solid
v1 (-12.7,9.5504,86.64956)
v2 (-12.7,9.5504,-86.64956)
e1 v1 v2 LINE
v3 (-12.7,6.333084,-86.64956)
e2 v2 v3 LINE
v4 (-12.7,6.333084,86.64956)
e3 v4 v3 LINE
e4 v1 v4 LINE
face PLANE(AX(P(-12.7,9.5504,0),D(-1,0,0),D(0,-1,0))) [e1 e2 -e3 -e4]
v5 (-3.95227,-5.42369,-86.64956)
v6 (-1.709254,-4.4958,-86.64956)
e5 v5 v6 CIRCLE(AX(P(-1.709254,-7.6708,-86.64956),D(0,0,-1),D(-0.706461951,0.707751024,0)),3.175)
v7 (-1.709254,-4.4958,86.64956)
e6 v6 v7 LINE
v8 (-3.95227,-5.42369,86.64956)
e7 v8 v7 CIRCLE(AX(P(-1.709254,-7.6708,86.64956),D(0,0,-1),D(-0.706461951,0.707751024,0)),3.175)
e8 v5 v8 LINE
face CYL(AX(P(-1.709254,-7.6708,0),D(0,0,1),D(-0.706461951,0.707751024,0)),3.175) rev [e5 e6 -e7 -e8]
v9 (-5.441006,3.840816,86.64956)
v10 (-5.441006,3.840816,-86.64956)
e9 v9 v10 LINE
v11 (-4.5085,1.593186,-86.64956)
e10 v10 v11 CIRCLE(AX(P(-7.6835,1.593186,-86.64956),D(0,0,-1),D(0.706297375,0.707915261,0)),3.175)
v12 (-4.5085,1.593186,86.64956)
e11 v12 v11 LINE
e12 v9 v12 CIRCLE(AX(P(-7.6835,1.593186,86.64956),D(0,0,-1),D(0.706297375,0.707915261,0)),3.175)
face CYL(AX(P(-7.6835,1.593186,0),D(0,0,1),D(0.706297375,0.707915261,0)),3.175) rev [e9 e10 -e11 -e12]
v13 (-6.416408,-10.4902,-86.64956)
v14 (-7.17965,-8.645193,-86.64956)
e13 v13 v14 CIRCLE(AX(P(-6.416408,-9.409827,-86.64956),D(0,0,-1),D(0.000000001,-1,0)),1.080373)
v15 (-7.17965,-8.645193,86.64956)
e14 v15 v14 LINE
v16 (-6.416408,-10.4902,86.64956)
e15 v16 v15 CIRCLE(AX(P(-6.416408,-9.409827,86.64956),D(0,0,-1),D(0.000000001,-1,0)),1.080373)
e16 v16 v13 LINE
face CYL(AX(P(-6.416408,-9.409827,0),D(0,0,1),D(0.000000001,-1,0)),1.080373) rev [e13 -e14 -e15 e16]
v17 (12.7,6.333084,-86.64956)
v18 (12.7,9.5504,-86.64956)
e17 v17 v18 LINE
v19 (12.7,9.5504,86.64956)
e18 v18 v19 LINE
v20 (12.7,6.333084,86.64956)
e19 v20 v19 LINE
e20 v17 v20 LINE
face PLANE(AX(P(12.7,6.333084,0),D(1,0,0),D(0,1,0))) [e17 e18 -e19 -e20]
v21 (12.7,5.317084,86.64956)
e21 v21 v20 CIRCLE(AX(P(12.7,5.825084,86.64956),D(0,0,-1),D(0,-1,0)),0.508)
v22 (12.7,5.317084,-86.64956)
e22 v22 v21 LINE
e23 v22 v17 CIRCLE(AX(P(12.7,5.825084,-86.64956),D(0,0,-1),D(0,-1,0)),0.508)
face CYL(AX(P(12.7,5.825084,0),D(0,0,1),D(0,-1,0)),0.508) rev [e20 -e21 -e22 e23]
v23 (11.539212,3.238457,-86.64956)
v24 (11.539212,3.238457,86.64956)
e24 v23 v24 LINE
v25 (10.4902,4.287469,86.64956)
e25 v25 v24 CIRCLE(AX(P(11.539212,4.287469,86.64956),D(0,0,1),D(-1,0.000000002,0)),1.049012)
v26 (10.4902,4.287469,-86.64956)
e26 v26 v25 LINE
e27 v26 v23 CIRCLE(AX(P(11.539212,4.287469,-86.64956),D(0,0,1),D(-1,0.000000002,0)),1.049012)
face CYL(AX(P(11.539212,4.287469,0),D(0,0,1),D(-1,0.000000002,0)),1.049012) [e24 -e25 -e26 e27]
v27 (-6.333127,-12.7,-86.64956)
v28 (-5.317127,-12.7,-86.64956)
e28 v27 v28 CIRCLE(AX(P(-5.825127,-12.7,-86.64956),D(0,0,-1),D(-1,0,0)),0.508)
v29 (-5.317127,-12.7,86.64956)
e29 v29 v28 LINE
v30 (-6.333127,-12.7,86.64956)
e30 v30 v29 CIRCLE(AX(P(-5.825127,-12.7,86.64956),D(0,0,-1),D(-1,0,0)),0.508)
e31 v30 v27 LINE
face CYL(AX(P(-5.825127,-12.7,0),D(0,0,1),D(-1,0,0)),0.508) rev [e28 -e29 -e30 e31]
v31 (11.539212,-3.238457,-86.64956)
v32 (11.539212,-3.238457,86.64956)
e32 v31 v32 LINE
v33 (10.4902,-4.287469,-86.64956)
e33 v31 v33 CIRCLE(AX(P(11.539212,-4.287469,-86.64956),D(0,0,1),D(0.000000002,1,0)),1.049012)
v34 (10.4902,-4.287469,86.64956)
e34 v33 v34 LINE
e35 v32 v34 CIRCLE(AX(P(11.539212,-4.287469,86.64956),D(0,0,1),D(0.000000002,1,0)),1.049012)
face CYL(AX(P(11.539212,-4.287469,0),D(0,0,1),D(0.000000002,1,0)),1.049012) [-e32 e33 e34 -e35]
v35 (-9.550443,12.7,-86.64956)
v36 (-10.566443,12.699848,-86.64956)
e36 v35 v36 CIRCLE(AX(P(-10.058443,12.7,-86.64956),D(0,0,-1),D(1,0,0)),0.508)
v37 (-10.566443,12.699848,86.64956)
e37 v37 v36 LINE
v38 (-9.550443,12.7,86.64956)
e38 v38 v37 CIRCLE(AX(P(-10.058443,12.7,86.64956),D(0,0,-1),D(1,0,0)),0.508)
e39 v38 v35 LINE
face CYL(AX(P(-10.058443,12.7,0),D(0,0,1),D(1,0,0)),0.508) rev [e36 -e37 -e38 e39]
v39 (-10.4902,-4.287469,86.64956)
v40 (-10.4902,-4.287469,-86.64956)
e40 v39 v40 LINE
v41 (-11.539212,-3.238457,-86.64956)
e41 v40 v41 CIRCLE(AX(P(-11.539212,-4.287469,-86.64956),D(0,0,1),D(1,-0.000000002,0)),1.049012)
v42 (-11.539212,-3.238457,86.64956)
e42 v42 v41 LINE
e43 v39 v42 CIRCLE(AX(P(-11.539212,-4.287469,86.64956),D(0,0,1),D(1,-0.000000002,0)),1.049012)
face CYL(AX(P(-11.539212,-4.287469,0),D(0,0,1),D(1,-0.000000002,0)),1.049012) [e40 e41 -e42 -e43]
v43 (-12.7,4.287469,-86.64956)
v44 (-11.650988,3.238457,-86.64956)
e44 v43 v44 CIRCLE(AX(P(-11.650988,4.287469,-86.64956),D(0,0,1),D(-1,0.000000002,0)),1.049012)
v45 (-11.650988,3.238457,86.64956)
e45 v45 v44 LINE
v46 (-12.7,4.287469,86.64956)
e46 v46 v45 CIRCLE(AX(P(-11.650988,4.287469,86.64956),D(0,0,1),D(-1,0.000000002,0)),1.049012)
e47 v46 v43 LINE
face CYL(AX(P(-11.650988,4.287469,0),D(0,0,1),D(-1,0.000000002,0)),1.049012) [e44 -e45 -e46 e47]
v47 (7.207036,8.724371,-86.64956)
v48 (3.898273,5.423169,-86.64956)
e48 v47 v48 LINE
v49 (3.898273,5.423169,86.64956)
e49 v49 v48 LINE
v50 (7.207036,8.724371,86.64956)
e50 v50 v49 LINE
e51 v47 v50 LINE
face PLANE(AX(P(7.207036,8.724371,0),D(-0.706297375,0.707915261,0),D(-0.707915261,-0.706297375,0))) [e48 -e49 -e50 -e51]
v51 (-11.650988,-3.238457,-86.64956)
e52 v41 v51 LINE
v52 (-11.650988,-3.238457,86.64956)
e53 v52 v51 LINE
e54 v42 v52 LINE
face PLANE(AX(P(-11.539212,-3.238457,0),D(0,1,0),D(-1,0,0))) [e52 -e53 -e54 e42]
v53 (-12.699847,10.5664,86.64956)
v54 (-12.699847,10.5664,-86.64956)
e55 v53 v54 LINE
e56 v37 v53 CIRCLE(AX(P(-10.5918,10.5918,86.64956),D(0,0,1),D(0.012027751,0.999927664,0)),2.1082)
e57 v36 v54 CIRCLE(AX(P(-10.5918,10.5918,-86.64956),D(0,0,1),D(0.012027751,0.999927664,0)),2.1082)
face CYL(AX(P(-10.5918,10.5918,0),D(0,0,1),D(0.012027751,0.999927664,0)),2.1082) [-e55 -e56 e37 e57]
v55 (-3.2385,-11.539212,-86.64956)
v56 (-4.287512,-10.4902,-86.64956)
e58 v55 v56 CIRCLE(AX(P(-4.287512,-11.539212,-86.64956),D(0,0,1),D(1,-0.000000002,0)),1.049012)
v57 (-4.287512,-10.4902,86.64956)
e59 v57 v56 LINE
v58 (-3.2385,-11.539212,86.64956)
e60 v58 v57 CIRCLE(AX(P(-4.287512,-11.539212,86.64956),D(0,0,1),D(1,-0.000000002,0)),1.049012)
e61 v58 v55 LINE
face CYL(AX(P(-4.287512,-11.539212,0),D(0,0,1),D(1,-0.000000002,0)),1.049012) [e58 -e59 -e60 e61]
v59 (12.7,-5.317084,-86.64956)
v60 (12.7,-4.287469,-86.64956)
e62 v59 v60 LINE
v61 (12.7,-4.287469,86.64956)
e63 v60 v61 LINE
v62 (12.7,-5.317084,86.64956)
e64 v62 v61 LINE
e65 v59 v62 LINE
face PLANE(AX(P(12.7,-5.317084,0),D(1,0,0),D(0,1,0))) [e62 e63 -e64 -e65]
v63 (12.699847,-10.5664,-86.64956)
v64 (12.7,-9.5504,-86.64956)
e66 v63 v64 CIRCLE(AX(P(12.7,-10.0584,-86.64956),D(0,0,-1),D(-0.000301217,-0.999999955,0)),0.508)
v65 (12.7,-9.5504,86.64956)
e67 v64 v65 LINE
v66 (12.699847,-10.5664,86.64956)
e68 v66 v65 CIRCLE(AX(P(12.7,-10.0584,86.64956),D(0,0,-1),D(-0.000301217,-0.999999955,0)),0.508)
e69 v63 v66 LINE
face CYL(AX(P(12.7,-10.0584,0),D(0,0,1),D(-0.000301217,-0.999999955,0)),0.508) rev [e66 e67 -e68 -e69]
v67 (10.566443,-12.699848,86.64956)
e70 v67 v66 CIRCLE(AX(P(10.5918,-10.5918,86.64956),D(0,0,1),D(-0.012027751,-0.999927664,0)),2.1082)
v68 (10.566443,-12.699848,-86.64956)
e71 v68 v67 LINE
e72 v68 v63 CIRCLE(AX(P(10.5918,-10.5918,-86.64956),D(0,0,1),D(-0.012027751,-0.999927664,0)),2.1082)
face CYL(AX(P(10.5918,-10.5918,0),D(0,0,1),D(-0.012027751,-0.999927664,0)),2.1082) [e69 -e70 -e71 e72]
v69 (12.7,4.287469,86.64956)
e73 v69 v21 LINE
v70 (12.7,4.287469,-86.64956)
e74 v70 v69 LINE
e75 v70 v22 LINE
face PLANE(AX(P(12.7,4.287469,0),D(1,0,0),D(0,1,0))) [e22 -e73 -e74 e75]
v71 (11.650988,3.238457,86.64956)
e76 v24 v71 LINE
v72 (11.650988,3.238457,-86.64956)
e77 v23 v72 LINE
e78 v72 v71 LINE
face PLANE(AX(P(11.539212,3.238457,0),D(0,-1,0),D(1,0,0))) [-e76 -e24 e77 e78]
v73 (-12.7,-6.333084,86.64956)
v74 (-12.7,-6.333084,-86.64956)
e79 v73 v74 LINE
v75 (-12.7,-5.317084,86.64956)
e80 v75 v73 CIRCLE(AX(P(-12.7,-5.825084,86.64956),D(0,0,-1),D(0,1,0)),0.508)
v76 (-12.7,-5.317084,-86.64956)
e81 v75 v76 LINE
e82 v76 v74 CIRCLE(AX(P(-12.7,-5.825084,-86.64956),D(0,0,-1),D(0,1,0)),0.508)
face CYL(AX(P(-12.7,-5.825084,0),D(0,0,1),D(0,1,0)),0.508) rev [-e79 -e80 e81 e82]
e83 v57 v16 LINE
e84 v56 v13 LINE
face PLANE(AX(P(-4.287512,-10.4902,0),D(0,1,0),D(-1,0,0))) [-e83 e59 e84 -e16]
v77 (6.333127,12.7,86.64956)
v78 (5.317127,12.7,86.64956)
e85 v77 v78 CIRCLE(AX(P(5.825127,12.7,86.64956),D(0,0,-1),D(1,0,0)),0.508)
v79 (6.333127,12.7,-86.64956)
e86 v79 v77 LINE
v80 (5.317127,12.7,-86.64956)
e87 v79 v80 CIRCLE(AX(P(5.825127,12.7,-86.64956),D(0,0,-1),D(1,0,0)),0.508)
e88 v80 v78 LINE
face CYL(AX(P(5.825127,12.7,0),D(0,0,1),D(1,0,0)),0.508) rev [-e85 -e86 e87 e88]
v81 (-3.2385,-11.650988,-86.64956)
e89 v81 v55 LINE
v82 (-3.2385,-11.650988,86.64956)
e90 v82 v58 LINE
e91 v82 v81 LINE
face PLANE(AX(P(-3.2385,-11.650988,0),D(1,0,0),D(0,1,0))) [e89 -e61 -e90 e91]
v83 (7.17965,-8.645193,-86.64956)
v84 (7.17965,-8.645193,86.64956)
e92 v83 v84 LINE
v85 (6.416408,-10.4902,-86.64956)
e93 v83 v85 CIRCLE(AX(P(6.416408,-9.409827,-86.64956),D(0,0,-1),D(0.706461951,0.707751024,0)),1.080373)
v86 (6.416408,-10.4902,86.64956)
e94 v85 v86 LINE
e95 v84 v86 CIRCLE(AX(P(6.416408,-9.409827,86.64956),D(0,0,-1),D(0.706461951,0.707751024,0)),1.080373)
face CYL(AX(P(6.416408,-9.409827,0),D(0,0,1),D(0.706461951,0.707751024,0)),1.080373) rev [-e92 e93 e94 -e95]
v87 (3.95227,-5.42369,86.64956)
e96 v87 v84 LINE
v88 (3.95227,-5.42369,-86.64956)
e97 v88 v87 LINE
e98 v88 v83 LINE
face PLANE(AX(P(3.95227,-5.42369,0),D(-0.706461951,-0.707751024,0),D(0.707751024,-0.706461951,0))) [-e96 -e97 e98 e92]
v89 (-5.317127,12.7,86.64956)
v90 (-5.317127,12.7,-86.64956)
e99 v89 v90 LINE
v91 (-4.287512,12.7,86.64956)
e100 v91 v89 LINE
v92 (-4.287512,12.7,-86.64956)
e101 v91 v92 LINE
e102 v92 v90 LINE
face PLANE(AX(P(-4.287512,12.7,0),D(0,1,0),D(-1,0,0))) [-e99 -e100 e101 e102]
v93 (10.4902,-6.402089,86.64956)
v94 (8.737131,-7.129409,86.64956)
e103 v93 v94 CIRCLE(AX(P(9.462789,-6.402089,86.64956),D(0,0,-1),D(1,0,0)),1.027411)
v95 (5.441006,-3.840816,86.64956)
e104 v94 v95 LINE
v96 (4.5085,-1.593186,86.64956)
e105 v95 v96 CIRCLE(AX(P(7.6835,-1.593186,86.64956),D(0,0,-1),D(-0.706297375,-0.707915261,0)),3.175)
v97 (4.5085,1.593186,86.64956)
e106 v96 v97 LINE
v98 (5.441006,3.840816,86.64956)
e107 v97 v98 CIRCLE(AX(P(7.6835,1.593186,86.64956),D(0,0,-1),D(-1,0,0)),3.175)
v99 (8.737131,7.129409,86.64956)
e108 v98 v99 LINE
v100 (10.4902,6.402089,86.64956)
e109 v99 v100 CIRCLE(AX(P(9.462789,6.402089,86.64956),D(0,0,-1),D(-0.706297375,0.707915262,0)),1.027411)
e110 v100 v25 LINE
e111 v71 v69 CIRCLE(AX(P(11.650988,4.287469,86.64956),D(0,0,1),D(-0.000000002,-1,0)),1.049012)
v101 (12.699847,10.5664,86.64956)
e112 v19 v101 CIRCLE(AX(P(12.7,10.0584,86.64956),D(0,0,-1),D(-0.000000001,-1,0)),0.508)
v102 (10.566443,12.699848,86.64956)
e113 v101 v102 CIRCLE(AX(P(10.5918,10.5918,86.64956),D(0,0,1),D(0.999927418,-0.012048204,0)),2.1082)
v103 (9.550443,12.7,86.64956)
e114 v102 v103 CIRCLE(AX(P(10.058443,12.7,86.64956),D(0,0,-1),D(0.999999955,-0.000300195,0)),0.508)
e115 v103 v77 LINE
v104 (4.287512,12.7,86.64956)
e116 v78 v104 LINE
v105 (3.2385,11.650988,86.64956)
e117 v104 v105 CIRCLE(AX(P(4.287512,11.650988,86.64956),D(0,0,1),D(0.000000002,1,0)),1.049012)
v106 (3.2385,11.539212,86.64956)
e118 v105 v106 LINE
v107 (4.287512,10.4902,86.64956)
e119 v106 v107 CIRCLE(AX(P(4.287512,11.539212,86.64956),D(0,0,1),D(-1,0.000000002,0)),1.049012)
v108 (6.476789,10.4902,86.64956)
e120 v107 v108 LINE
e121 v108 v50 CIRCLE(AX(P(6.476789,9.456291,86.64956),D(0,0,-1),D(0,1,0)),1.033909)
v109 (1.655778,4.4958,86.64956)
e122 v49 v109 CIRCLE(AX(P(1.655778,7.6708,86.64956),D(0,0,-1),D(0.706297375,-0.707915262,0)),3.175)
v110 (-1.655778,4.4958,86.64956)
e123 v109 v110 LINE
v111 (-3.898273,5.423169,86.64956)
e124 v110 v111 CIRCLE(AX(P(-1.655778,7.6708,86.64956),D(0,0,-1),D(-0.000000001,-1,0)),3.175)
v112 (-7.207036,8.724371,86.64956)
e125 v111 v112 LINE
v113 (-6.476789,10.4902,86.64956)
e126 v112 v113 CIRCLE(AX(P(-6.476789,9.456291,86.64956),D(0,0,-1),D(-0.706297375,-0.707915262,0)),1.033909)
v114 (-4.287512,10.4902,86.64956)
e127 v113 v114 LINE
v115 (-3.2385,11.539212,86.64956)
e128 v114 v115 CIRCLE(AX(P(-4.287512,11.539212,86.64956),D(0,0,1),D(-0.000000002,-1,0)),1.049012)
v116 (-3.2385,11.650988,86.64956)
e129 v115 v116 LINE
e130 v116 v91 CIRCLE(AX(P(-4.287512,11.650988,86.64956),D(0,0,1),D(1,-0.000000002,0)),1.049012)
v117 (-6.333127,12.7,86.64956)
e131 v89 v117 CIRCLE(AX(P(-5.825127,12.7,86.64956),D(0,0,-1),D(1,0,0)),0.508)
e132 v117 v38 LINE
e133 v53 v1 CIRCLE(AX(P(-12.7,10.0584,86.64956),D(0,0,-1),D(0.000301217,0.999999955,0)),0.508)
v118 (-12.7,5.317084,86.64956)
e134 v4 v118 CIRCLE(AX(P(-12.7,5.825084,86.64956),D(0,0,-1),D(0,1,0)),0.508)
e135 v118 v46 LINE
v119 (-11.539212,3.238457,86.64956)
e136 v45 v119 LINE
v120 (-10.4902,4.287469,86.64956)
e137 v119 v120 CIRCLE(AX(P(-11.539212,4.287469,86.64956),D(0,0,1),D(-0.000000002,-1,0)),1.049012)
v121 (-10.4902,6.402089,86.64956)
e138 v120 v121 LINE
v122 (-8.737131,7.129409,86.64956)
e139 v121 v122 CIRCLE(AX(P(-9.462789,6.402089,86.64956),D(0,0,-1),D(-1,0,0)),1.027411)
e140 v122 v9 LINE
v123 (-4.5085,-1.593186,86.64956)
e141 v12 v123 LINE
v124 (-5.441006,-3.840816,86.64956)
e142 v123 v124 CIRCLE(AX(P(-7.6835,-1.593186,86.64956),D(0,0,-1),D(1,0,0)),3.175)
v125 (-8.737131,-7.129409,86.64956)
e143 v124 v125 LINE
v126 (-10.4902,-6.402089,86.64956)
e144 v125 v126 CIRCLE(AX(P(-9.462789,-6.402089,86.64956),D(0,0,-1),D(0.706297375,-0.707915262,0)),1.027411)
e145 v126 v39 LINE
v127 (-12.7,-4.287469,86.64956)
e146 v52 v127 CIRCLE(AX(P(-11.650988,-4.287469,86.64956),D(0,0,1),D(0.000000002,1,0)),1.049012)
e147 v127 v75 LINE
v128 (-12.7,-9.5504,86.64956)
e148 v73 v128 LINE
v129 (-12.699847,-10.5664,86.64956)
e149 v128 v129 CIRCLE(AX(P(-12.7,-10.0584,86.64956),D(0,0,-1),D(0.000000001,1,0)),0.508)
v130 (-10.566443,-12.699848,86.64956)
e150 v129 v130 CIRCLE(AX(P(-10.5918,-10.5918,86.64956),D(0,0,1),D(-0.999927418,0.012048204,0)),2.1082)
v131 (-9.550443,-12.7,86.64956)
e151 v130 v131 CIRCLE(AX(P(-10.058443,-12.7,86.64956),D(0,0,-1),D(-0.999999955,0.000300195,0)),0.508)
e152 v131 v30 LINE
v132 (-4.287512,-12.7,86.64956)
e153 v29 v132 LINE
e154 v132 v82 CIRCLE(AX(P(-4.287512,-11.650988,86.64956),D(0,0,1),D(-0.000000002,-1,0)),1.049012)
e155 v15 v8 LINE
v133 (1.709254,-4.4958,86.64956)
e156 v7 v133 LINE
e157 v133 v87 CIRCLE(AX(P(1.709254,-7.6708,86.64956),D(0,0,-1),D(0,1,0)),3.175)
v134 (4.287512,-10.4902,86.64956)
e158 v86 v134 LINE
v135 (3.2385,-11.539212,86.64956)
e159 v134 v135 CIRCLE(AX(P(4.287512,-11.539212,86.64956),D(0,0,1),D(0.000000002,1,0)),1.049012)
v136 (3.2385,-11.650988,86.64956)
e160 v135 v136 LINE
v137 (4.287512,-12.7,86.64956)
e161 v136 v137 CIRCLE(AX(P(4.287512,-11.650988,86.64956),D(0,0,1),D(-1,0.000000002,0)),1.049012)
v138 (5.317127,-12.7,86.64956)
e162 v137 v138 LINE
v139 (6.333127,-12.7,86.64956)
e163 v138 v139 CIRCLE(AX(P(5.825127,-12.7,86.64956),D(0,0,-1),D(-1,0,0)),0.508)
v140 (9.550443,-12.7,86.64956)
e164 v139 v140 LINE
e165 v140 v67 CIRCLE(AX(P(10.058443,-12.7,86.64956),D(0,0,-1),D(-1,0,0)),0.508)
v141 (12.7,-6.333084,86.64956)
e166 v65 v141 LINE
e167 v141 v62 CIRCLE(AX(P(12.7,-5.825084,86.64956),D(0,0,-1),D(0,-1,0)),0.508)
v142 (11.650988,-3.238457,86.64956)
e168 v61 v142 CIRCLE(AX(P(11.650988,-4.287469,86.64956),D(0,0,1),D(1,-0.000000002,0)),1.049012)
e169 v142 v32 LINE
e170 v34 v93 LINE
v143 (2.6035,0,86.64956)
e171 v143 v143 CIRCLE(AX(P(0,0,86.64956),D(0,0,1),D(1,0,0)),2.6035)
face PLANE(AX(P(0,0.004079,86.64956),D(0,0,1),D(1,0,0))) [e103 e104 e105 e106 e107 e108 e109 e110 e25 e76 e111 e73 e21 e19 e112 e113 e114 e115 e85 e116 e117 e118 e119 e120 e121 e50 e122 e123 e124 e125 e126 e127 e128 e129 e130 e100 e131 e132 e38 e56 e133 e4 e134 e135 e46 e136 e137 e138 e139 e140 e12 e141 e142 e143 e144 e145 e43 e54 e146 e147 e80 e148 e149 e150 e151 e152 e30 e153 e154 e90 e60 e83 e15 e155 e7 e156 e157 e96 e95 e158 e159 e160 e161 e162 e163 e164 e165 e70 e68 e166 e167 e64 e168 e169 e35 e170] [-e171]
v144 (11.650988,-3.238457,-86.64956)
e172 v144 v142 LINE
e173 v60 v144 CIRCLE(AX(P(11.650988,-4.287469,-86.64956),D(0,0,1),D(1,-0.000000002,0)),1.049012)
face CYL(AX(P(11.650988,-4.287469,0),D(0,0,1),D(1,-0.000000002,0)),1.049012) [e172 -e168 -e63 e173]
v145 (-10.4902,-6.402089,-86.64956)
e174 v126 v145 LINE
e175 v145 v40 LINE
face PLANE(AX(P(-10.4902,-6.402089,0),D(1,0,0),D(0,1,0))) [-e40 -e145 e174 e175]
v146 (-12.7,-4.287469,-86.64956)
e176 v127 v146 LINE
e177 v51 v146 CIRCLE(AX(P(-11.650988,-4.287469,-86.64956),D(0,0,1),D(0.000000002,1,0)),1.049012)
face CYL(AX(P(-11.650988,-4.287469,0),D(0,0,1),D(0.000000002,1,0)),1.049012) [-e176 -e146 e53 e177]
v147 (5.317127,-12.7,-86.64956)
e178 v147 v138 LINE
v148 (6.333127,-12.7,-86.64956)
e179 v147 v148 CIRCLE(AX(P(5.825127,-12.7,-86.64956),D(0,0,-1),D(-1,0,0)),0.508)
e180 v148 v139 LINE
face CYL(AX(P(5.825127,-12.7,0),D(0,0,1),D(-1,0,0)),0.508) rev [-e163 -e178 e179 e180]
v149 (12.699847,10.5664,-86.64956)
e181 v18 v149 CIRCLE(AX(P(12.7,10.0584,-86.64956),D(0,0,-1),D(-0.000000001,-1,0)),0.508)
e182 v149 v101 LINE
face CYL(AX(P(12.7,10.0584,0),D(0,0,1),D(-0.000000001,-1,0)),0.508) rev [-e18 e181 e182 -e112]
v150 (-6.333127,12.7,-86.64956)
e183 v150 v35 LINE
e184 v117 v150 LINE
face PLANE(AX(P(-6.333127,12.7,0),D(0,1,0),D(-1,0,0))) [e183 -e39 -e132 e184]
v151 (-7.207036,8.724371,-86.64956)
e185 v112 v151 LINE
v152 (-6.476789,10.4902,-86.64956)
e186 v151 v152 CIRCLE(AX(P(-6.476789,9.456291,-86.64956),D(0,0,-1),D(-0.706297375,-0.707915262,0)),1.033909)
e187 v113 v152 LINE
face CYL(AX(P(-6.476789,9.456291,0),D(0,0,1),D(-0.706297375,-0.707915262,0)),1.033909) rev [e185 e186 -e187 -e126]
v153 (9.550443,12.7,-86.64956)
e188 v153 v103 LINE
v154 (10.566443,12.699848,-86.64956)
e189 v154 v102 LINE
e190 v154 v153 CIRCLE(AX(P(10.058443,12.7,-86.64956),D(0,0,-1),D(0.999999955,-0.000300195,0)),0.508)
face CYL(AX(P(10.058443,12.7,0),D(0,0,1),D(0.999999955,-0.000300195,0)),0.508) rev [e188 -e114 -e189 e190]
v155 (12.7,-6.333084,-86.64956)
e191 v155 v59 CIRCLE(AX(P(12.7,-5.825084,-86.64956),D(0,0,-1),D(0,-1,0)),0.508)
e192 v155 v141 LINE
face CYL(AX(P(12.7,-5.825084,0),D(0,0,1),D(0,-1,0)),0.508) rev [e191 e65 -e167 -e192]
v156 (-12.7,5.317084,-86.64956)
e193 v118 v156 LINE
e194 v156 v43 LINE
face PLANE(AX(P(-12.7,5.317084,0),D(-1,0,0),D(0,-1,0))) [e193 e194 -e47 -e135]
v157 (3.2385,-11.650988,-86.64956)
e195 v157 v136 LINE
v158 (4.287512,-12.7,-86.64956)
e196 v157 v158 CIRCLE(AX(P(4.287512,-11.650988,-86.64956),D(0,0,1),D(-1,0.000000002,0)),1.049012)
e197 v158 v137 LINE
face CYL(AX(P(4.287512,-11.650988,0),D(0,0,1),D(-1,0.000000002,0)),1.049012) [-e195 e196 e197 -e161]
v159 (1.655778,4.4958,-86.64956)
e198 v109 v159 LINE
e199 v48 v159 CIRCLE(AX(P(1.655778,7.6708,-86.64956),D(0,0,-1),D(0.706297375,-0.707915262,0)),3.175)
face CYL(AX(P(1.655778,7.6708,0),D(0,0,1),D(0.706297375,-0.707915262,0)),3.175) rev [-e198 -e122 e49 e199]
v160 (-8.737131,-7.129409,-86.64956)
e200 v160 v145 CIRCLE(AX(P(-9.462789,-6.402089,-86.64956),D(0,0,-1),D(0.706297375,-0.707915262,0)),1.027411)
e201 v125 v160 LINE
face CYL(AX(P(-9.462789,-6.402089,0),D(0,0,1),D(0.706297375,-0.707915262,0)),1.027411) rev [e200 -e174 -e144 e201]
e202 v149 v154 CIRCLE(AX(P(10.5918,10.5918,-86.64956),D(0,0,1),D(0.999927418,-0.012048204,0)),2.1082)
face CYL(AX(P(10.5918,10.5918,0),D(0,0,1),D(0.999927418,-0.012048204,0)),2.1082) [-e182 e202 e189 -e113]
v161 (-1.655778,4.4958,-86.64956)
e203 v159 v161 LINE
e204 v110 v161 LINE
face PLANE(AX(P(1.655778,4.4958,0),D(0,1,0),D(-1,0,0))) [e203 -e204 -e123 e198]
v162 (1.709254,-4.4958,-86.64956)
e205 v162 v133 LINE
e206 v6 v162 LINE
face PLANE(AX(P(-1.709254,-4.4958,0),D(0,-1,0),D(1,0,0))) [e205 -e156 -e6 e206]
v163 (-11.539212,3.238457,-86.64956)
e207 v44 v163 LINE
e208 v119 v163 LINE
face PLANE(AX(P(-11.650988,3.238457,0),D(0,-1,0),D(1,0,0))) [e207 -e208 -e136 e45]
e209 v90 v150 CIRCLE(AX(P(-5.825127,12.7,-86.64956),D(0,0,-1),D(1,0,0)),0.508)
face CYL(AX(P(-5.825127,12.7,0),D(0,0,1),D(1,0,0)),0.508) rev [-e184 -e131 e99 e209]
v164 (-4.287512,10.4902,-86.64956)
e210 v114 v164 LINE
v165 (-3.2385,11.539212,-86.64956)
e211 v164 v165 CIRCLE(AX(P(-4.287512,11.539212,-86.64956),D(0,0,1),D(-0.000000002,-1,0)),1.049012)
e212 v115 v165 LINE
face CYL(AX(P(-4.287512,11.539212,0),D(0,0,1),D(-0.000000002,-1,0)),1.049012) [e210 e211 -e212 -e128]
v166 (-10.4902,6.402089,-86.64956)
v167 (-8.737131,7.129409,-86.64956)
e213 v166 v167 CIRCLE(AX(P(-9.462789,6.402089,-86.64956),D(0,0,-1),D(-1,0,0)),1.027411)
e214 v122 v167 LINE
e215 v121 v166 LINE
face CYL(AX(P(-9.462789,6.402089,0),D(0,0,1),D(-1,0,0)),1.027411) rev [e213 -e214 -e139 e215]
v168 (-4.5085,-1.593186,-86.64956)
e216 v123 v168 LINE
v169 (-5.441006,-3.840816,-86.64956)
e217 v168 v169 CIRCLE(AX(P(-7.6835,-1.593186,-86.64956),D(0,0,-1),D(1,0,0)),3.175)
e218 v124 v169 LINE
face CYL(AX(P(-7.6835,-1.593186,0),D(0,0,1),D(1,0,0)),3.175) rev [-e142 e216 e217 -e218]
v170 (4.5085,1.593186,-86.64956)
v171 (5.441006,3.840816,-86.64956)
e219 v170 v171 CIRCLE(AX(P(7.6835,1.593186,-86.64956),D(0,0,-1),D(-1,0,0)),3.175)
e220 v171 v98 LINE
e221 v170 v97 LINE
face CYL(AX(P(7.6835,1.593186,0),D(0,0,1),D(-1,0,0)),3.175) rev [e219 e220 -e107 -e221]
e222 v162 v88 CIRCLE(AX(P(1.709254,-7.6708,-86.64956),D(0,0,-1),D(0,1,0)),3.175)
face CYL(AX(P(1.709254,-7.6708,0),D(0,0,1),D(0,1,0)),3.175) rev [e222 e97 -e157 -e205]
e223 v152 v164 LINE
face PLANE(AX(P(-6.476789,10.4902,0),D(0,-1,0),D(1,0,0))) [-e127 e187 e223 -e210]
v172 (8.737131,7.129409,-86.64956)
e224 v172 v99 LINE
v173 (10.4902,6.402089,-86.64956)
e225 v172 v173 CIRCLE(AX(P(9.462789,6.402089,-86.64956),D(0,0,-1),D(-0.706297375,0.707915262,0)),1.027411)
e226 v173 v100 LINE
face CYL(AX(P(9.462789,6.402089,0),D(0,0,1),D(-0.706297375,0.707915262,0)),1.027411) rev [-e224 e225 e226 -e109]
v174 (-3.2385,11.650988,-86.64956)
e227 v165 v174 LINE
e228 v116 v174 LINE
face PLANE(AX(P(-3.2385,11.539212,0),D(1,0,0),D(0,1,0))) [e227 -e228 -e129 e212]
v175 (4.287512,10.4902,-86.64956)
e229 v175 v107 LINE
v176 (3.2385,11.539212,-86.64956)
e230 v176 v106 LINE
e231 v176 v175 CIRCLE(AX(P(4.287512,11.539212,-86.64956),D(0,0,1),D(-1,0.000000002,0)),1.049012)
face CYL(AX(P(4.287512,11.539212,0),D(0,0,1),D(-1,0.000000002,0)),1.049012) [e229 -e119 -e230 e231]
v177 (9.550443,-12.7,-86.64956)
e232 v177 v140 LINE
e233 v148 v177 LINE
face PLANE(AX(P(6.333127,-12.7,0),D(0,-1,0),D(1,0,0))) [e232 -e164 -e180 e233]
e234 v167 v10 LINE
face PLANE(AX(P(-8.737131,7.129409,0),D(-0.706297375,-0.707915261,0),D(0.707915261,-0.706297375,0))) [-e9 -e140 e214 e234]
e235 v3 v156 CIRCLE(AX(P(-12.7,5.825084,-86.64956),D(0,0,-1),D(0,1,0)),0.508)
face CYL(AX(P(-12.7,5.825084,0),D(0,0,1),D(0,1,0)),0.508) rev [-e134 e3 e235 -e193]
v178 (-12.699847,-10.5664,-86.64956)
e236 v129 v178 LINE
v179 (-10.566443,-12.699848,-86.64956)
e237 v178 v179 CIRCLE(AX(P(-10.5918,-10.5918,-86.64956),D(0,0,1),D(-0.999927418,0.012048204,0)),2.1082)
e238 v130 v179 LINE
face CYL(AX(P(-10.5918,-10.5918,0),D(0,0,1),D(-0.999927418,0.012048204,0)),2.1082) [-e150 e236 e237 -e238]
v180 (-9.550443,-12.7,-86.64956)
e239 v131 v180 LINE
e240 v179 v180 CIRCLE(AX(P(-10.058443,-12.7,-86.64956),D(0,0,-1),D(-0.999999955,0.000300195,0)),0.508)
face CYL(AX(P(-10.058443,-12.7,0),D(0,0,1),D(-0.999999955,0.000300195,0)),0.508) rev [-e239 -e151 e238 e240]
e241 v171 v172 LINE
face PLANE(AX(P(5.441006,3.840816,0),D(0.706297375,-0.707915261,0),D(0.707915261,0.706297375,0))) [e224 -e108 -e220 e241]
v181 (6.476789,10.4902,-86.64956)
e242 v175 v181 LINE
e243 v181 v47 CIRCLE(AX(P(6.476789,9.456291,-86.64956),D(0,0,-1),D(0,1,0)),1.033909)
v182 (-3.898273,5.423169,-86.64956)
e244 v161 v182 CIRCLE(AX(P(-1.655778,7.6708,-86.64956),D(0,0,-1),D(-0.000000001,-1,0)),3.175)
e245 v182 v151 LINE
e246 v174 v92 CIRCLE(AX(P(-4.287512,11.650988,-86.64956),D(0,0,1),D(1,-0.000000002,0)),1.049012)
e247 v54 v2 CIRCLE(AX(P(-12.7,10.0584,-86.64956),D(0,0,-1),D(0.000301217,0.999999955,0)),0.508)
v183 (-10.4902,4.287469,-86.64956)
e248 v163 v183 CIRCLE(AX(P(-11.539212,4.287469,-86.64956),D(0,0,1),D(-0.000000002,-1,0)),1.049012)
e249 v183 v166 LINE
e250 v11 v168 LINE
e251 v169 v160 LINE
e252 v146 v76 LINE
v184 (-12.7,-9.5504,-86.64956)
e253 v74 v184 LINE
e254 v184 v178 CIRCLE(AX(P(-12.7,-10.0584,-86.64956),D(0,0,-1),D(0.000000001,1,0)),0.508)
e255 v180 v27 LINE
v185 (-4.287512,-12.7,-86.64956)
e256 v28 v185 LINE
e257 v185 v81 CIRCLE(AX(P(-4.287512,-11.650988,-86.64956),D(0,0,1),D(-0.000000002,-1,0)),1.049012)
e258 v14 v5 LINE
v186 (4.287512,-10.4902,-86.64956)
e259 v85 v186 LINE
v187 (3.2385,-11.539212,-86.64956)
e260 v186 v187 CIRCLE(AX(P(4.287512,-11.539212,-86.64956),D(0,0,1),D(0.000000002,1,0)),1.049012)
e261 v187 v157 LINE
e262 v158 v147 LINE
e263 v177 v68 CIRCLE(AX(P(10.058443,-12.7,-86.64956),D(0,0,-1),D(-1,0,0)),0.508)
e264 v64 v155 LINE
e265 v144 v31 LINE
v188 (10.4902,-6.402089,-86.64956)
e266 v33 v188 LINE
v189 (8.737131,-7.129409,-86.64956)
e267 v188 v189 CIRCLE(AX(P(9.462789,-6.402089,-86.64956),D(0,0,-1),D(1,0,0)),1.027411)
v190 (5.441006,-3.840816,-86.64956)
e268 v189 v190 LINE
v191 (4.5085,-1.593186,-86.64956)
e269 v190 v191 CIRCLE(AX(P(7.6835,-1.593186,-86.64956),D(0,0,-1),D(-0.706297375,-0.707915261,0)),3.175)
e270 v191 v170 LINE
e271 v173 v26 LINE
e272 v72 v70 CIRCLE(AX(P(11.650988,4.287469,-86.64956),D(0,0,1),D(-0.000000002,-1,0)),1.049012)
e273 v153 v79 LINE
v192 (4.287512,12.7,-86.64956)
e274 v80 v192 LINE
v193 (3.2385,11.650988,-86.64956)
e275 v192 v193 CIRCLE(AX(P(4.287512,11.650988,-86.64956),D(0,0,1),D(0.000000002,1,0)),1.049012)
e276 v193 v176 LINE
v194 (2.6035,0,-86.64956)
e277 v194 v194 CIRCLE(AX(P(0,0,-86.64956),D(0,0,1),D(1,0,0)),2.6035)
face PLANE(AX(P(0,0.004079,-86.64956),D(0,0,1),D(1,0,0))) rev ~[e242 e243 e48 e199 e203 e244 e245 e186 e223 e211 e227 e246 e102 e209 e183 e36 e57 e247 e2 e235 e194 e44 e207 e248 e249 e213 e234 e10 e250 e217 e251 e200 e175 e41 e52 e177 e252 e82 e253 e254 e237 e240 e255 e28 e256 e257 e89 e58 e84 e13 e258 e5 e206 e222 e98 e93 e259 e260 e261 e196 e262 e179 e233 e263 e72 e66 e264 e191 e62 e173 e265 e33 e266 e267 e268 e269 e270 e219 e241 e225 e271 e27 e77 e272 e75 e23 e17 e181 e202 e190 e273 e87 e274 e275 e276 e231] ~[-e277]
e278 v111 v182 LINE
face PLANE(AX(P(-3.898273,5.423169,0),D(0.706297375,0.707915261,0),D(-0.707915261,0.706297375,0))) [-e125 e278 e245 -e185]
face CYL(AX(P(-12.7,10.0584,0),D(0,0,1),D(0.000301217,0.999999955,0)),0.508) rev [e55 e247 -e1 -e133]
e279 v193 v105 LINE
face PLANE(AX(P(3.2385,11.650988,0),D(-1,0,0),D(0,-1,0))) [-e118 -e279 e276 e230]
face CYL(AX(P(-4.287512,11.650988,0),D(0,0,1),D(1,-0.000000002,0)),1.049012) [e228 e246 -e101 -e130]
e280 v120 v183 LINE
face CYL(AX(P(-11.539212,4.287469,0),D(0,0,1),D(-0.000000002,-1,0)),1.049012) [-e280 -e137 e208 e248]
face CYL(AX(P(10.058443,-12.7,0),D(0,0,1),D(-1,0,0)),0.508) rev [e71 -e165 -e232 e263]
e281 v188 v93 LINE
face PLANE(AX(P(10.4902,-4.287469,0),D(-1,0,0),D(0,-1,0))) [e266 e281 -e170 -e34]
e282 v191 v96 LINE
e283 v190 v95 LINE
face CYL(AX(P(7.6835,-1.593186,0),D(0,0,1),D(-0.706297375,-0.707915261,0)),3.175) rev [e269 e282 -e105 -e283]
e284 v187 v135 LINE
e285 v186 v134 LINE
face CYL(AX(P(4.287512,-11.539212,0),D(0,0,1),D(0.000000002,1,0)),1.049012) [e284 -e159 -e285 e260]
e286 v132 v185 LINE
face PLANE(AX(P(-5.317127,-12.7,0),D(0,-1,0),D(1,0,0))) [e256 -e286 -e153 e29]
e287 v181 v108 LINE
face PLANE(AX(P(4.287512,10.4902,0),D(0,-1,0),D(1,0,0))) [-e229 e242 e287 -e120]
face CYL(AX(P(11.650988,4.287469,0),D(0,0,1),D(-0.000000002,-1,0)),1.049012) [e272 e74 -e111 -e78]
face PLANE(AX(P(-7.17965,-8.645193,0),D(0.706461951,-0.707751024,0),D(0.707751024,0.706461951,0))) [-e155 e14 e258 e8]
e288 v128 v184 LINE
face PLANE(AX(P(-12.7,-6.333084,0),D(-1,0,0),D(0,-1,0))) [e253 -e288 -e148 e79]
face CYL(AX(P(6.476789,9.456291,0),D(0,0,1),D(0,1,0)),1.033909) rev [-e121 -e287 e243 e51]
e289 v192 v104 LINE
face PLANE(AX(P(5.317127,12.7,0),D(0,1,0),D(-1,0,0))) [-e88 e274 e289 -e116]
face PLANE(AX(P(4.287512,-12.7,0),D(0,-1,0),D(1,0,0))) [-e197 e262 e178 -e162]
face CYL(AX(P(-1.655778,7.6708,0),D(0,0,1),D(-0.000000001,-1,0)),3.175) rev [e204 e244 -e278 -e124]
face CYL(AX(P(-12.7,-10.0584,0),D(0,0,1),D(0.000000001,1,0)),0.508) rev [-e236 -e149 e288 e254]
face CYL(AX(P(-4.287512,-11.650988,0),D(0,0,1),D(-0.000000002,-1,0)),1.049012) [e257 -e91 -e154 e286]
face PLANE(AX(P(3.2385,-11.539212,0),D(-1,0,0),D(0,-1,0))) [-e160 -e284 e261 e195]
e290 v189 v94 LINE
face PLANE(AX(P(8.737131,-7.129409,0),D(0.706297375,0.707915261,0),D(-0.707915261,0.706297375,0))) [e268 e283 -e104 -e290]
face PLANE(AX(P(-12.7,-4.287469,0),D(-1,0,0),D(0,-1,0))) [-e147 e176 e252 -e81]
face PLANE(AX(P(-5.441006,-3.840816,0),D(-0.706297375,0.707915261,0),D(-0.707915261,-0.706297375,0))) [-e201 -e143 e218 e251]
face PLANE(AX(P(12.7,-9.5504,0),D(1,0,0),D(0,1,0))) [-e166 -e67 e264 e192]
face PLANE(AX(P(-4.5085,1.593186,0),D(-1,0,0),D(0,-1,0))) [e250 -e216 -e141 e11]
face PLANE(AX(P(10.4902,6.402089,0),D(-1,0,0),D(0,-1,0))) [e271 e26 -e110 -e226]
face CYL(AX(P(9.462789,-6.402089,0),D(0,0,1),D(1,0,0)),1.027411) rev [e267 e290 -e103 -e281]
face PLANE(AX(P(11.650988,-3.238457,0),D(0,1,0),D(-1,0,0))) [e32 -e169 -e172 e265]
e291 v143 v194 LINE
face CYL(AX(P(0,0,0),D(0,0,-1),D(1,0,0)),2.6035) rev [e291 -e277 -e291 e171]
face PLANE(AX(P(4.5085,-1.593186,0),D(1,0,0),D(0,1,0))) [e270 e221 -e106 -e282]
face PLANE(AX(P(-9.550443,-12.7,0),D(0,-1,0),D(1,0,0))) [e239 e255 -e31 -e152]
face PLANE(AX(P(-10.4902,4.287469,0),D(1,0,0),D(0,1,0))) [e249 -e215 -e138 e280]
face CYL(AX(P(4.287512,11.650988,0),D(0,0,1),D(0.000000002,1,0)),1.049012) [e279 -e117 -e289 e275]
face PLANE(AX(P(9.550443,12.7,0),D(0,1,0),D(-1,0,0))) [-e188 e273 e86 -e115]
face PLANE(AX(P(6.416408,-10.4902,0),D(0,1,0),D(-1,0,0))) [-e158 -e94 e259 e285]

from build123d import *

# Parameters (mm, degrees)
SKETCH1_R           = 2.6035
BOSS_EXTRUDE1_DEPTH = 86.64956


with BuildPart() as part:
    # Sketch1 → Boss-Extrude1 (new body, symmetric)
    with BuildSketch(Plane.XY):
        with BuildLine():
            Line((-7.179650497, -8.645192506), (-3.952270251, -5.423690499))
            ThreePointArc((-3.952270251, -5.423690499), (-2.922936451, -4.736929036), (-1.709253557, -4.4958))
            Line((-1.709253557, -4.4958), (1.709253557, -4.4958))
            ThreePointArc((1.709253557, -4.4958), (2.922936451, -4.736929036), (3.952270251, -5.423690499))
            Line((3.952270251, -5.423690499), (7.179650497, -8.645192506))
            ThreePointArc((7.179650497, -8.645192506), (7.41473083, -9.822813117), (6.416408329, -10.4902))
            Line((6.416408329, -10.4902), (4.287512407, -10.4902))
            ThreePointArc((4.287512407, -10.4902), (3.54574862, -10.79744862), (3.2385, -11.539212407))
            Line((3.2385, -11.539212407), (3.2385, -11.650987593))
            ThreePointArc((3.2385, -11.650987593), (3.54574862, -12.39275138), (4.287512407, -12.7))
            Line((4.287512407, -12.7), (5.317126718, -12.7))
            ThreePointArc((5.317126718, -12.7), (5.825126718, -12.192), (6.333126718, -12.7))
            Line((6.333126718, -12.7), (9.550443118, -12.7))
            ThreePointArc((9.550443118, -12.7), (10.058366869, -12.192000006), (10.566443095, -12.699847501))
            ThreePointArc((10.566443095, -12.699847501), (12.082537762, -12.08250727), (12.699846982, -10.566399977))
            ThreePointArc((12.699846982, -10.566399977), (12.192000006, -10.058323491), (12.7, -9.5504))
            Line((12.7, -9.5504), (12.7, -6.3330836))
            ThreePointArc((12.7, -6.3330836), (12.192, -5.8250836), (12.7, -5.3170836))
            Line((12.7, -5.3170836), (12.7, -4.287469289))
            ThreePointArc((12.7, -4.287469289), (12.39275138, -3.545705502), (11.650987593, -3.238456882))
            Line((11.650987593, -3.238456882), (11.539212407, -3.238456882))
            ThreePointArc((11.539212407, -3.238456882), (10.79744862, -3.545705502), (10.4902, -4.287469289))
            Line((10.4902, -4.287469289), (10.4902, -6.402089023))
            ThreePointArc((10.4902, -6.402089023), (9.856505071, -7.351067942), (8.737131347, -7.129408934))
            Line((8.737131347, -7.129408934), (5.441005833, -3.840816462))
            ThreePointArc((5.441005833, -3.840816462), (4.750877967, -2.809883091), (4.5085, -1.593185507))
            Line((4.5085, -1.593185507), (4.5085, 1.593185507))
            ThreePointArc((4.5085, 1.593185507), (4.750877967, 2.809883091), (5.441005833, 3.840816462))
            Line((5.441005833, 3.840816462), (8.737131347, 7.129408934))
            ThreePointArc((8.737131347, 7.129408934), (9.856505071, 7.351067942), (10.4902, 6.402089023))
            Line((10.4902, 6.402089023), (10.4902, 4.287469289))
            ThreePointArc((10.4902, 4.287469289), (10.79744862, 3.545705502), (11.539212407, 3.238456882))
            Line((11.539212407, 3.238456882), (11.650987593, 3.238456882))
            ThreePointArc((11.650987593, 3.238456882), (12.39275138, 3.545705502), (12.7, 4.287469289))
            Line((12.7, 4.287469289), (12.7, 5.3170836))
            ThreePointArc((12.7, 5.3170836), (12.192, 5.8250836), (12.7, 6.3330836))
            Line((12.7, 6.3330836), (12.7, 9.5504))
            ThreePointArc((12.7, 9.5504), (12.192000006, 10.058323491), (12.699846982, 10.566399977))
            ThreePointArc((12.699846982, 10.566399977), (12.082537762, 12.08250727), (10.566443095, 12.699847501))
            ThreePointArc((10.566443095, 12.699847501), (10.058366869, 12.192000006), (9.550443118, 12.7))
            Line((9.550443118, 12.7), (6.333126718, 12.7))
            ThreePointArc((6.333126718, 12.7), (5.825126718, 12.192), (5.317126718, 12.7))
            Line((5.317126718, 12.7), (4.287512407, 12.7))
            ThreePointArc((4.287512407, 12.7), (3.54574862, 12.39275138), (3.2385, 11.650987593))
            Line((3.2385, 11.650987593), (3.2385, 11.539212407))
            ThreePointArc((3.2385, 11.539212407), (3.54574862, 10.79744862), (4.287512407, 10.4902))
            Line((4.287512407, 10.4902), (6.476788598, 10.4902))
            ThreePointArc((6.476788598, 10.4902), (7.432222385, 9.85140422), (7.207036008, 8.724370562))
            Line((7.207036008, 8.724370562), (3.898272566, 5.423169045))
            ThreePointArc((3.898272566, 5.423169045), (2.869120213, 4.736787962), (1.655778399, 4.4958))
            Line((1.655778399, 4.4958), (-1.655778399, 4.4958))
            ThreePointArc((-1.655778399, 4.4958), (-2.869120213, 4.736787962), (-3.898272566, 5.423169045))
            Line((-3.898272566, 5.423169045), (-7.207036008, 8.724370562))
            ThreePointArc((-7.207036008, 8.724370562), (-7.432222385, 9.85140422), (-6.476788598, 10.4902))
            Line((-6.476788598, 10.4902), (-4.287512407, 10.4902))
            ThreePointArc((-4.287512407, 10.4902), (-3.54574862, 10.79744862), (-3.2385, 11.539212407))
            Line((-3.2385, 11.539212407), (-3.2385, 11.650987593))
            ThreePointArc((-3.2385, 11.650987593), (-3.54574862, 12.39275138), (-4.287512407, 12.7))
            Line((-4.287512407, 12.7), (-5.317126718, 12.7))
            ThreePointArc((-5.317126718, 12.7), (-5.825126718, 12.192), (-6.333126718, 12.7))
            Line((-6.333126718, 12.7), (-9.550443118, 12.7))
            ThreePointArc((-9.550443118, 12.7), (-10.058366869, 12.192000006), (-10.566443095, 12.699847501))
            ThreePointArc((-10.566443095, 12.699847501), (-12.082537762, 12.08250727), (-12.699846982, 10.566399977))
            ThreePointArc((-12.699846982, 10.566399977), (-12.192000006, 10.058323491), (-12.7, 9.5504))
            Line((-12.7, 9.5504), (-12.7, 6.3330836))
            ThreePointArc((-12.7, 6.3330836), (-12.192, 5.8250836), (-12.7, 5.3170836))
            Line((-12.7, 5.3170836), (-12.7, 4.287469289))
            ThreePointArc((-12.7, 4.287469289), (-12.39275138, 3.545705502), (-11.650987593, 3.238456882))
            Line((-11.650987593, 3.238456882), (-11.539212407, 3.238456882))
            ThreePointArc((-11.539212407, 3.238456882), (-10.79744862, 3.545705502), (-10.4902, 4.287469289))
            Line((-10.4902, 4.287469289), (-10.4902, 6.402089023))
            ThreePointArc((-10.4902, 6.402089023), (-9.856505071, 7.351067942), (-8.737131347, 7.129408934))
            Line((-8.737131347, 7.129408934), (-5.441005833, 3.840816462))
            ThreePointArc((-5.441005833, 3.840816462), (-4.750877967, 2.809883091), (-4.5085, 1.593185507))
            Line((-4.5085, 1.593185507), (-4.5085, -1.593185507))
            ThreePointArc((-4.5085, -1.593185507), (-4.750877967, -2.809883091), (-5.441005833, -3.840816462))
            Line((-5.441005833, -3.840816462), (-8.737131347, -7.129408934))
            ThreePointArc((-8.737131347, -7.129408934), (-9.856505071, -7.351067942), (-10.4902, -6.402089023))
            Line((-10.4902, -6.402089023), (-10.4902, -4.287469289))
            ThreePointArc((-10.4902, -4.287469289), (-10.79744862, -3.545705502), (-11.539212407, -3.238456882))
            Line((-11.539212407, -3.238456882), (-11.650987593, -3.238456882))
            ThreePointArc((-11.650987593, -3.238456882), (-12.39275138, -3.545705502), (-12.7, -4.287469289))
            Line((-12.7, -4.287469289), (-12.7, -5.3170836))
            ThreePointArc((-12.7, -5.3170836), (-12.192, -5.8250836), (-12.7, -6.3330836))
            Line((-12.7, -6.3330836), (-12.7, -9.5504))
            ThreePointArc((-12.7, -9.5504), (-12.192000006, -10.058323491), (-12.699846982, -10.566399977))
            ThreePointArc((-12.699846982, -10.566399977), (-12.082537762, -12.08250727), (-10.566443095, -12.699847501))
            ThreePointArc((-10.566443095, -12.699847501), (-10.058366869, -12.192000006), (-9.550443118, -12.7))
            Line((-9.550443118, -12.7), (-6.333126718, -12.7))
            ThreePointArc((-6.333126718, -12.7), (-5.825126718, -12.192), (-5.317126718, -12.7))
            Line((-5.317126718, -12.7), (-4.287512407, -12.7))
            ThreePointArc((-4.287512407, -12.7), (-3.54574862, -12.39275138), (-3.2385, -11.650987593))
            Line((-3.2385, -11.650987593), (-3.2385, -11.539212407))
            ThreePointArc((-3.2385, -11.539212407), (-3.54574862, -10.79744862), (-4.287512407, -10.4902))
            Line((-4.287512407, -10.4902), (-6.416408329, -10.4902))
            ThreePointArc((-6.416408329, -10.4902), (-7.41473083, -9.822813117), (-7.179650497, -8.645192506))
        make_face()
        Circle(SKETCH1_R, mode=Mode.SUBTRACT)
    extrude(amount=BOSS_EXTRUDE1_DEPTH, both=True)


solid = part.part
